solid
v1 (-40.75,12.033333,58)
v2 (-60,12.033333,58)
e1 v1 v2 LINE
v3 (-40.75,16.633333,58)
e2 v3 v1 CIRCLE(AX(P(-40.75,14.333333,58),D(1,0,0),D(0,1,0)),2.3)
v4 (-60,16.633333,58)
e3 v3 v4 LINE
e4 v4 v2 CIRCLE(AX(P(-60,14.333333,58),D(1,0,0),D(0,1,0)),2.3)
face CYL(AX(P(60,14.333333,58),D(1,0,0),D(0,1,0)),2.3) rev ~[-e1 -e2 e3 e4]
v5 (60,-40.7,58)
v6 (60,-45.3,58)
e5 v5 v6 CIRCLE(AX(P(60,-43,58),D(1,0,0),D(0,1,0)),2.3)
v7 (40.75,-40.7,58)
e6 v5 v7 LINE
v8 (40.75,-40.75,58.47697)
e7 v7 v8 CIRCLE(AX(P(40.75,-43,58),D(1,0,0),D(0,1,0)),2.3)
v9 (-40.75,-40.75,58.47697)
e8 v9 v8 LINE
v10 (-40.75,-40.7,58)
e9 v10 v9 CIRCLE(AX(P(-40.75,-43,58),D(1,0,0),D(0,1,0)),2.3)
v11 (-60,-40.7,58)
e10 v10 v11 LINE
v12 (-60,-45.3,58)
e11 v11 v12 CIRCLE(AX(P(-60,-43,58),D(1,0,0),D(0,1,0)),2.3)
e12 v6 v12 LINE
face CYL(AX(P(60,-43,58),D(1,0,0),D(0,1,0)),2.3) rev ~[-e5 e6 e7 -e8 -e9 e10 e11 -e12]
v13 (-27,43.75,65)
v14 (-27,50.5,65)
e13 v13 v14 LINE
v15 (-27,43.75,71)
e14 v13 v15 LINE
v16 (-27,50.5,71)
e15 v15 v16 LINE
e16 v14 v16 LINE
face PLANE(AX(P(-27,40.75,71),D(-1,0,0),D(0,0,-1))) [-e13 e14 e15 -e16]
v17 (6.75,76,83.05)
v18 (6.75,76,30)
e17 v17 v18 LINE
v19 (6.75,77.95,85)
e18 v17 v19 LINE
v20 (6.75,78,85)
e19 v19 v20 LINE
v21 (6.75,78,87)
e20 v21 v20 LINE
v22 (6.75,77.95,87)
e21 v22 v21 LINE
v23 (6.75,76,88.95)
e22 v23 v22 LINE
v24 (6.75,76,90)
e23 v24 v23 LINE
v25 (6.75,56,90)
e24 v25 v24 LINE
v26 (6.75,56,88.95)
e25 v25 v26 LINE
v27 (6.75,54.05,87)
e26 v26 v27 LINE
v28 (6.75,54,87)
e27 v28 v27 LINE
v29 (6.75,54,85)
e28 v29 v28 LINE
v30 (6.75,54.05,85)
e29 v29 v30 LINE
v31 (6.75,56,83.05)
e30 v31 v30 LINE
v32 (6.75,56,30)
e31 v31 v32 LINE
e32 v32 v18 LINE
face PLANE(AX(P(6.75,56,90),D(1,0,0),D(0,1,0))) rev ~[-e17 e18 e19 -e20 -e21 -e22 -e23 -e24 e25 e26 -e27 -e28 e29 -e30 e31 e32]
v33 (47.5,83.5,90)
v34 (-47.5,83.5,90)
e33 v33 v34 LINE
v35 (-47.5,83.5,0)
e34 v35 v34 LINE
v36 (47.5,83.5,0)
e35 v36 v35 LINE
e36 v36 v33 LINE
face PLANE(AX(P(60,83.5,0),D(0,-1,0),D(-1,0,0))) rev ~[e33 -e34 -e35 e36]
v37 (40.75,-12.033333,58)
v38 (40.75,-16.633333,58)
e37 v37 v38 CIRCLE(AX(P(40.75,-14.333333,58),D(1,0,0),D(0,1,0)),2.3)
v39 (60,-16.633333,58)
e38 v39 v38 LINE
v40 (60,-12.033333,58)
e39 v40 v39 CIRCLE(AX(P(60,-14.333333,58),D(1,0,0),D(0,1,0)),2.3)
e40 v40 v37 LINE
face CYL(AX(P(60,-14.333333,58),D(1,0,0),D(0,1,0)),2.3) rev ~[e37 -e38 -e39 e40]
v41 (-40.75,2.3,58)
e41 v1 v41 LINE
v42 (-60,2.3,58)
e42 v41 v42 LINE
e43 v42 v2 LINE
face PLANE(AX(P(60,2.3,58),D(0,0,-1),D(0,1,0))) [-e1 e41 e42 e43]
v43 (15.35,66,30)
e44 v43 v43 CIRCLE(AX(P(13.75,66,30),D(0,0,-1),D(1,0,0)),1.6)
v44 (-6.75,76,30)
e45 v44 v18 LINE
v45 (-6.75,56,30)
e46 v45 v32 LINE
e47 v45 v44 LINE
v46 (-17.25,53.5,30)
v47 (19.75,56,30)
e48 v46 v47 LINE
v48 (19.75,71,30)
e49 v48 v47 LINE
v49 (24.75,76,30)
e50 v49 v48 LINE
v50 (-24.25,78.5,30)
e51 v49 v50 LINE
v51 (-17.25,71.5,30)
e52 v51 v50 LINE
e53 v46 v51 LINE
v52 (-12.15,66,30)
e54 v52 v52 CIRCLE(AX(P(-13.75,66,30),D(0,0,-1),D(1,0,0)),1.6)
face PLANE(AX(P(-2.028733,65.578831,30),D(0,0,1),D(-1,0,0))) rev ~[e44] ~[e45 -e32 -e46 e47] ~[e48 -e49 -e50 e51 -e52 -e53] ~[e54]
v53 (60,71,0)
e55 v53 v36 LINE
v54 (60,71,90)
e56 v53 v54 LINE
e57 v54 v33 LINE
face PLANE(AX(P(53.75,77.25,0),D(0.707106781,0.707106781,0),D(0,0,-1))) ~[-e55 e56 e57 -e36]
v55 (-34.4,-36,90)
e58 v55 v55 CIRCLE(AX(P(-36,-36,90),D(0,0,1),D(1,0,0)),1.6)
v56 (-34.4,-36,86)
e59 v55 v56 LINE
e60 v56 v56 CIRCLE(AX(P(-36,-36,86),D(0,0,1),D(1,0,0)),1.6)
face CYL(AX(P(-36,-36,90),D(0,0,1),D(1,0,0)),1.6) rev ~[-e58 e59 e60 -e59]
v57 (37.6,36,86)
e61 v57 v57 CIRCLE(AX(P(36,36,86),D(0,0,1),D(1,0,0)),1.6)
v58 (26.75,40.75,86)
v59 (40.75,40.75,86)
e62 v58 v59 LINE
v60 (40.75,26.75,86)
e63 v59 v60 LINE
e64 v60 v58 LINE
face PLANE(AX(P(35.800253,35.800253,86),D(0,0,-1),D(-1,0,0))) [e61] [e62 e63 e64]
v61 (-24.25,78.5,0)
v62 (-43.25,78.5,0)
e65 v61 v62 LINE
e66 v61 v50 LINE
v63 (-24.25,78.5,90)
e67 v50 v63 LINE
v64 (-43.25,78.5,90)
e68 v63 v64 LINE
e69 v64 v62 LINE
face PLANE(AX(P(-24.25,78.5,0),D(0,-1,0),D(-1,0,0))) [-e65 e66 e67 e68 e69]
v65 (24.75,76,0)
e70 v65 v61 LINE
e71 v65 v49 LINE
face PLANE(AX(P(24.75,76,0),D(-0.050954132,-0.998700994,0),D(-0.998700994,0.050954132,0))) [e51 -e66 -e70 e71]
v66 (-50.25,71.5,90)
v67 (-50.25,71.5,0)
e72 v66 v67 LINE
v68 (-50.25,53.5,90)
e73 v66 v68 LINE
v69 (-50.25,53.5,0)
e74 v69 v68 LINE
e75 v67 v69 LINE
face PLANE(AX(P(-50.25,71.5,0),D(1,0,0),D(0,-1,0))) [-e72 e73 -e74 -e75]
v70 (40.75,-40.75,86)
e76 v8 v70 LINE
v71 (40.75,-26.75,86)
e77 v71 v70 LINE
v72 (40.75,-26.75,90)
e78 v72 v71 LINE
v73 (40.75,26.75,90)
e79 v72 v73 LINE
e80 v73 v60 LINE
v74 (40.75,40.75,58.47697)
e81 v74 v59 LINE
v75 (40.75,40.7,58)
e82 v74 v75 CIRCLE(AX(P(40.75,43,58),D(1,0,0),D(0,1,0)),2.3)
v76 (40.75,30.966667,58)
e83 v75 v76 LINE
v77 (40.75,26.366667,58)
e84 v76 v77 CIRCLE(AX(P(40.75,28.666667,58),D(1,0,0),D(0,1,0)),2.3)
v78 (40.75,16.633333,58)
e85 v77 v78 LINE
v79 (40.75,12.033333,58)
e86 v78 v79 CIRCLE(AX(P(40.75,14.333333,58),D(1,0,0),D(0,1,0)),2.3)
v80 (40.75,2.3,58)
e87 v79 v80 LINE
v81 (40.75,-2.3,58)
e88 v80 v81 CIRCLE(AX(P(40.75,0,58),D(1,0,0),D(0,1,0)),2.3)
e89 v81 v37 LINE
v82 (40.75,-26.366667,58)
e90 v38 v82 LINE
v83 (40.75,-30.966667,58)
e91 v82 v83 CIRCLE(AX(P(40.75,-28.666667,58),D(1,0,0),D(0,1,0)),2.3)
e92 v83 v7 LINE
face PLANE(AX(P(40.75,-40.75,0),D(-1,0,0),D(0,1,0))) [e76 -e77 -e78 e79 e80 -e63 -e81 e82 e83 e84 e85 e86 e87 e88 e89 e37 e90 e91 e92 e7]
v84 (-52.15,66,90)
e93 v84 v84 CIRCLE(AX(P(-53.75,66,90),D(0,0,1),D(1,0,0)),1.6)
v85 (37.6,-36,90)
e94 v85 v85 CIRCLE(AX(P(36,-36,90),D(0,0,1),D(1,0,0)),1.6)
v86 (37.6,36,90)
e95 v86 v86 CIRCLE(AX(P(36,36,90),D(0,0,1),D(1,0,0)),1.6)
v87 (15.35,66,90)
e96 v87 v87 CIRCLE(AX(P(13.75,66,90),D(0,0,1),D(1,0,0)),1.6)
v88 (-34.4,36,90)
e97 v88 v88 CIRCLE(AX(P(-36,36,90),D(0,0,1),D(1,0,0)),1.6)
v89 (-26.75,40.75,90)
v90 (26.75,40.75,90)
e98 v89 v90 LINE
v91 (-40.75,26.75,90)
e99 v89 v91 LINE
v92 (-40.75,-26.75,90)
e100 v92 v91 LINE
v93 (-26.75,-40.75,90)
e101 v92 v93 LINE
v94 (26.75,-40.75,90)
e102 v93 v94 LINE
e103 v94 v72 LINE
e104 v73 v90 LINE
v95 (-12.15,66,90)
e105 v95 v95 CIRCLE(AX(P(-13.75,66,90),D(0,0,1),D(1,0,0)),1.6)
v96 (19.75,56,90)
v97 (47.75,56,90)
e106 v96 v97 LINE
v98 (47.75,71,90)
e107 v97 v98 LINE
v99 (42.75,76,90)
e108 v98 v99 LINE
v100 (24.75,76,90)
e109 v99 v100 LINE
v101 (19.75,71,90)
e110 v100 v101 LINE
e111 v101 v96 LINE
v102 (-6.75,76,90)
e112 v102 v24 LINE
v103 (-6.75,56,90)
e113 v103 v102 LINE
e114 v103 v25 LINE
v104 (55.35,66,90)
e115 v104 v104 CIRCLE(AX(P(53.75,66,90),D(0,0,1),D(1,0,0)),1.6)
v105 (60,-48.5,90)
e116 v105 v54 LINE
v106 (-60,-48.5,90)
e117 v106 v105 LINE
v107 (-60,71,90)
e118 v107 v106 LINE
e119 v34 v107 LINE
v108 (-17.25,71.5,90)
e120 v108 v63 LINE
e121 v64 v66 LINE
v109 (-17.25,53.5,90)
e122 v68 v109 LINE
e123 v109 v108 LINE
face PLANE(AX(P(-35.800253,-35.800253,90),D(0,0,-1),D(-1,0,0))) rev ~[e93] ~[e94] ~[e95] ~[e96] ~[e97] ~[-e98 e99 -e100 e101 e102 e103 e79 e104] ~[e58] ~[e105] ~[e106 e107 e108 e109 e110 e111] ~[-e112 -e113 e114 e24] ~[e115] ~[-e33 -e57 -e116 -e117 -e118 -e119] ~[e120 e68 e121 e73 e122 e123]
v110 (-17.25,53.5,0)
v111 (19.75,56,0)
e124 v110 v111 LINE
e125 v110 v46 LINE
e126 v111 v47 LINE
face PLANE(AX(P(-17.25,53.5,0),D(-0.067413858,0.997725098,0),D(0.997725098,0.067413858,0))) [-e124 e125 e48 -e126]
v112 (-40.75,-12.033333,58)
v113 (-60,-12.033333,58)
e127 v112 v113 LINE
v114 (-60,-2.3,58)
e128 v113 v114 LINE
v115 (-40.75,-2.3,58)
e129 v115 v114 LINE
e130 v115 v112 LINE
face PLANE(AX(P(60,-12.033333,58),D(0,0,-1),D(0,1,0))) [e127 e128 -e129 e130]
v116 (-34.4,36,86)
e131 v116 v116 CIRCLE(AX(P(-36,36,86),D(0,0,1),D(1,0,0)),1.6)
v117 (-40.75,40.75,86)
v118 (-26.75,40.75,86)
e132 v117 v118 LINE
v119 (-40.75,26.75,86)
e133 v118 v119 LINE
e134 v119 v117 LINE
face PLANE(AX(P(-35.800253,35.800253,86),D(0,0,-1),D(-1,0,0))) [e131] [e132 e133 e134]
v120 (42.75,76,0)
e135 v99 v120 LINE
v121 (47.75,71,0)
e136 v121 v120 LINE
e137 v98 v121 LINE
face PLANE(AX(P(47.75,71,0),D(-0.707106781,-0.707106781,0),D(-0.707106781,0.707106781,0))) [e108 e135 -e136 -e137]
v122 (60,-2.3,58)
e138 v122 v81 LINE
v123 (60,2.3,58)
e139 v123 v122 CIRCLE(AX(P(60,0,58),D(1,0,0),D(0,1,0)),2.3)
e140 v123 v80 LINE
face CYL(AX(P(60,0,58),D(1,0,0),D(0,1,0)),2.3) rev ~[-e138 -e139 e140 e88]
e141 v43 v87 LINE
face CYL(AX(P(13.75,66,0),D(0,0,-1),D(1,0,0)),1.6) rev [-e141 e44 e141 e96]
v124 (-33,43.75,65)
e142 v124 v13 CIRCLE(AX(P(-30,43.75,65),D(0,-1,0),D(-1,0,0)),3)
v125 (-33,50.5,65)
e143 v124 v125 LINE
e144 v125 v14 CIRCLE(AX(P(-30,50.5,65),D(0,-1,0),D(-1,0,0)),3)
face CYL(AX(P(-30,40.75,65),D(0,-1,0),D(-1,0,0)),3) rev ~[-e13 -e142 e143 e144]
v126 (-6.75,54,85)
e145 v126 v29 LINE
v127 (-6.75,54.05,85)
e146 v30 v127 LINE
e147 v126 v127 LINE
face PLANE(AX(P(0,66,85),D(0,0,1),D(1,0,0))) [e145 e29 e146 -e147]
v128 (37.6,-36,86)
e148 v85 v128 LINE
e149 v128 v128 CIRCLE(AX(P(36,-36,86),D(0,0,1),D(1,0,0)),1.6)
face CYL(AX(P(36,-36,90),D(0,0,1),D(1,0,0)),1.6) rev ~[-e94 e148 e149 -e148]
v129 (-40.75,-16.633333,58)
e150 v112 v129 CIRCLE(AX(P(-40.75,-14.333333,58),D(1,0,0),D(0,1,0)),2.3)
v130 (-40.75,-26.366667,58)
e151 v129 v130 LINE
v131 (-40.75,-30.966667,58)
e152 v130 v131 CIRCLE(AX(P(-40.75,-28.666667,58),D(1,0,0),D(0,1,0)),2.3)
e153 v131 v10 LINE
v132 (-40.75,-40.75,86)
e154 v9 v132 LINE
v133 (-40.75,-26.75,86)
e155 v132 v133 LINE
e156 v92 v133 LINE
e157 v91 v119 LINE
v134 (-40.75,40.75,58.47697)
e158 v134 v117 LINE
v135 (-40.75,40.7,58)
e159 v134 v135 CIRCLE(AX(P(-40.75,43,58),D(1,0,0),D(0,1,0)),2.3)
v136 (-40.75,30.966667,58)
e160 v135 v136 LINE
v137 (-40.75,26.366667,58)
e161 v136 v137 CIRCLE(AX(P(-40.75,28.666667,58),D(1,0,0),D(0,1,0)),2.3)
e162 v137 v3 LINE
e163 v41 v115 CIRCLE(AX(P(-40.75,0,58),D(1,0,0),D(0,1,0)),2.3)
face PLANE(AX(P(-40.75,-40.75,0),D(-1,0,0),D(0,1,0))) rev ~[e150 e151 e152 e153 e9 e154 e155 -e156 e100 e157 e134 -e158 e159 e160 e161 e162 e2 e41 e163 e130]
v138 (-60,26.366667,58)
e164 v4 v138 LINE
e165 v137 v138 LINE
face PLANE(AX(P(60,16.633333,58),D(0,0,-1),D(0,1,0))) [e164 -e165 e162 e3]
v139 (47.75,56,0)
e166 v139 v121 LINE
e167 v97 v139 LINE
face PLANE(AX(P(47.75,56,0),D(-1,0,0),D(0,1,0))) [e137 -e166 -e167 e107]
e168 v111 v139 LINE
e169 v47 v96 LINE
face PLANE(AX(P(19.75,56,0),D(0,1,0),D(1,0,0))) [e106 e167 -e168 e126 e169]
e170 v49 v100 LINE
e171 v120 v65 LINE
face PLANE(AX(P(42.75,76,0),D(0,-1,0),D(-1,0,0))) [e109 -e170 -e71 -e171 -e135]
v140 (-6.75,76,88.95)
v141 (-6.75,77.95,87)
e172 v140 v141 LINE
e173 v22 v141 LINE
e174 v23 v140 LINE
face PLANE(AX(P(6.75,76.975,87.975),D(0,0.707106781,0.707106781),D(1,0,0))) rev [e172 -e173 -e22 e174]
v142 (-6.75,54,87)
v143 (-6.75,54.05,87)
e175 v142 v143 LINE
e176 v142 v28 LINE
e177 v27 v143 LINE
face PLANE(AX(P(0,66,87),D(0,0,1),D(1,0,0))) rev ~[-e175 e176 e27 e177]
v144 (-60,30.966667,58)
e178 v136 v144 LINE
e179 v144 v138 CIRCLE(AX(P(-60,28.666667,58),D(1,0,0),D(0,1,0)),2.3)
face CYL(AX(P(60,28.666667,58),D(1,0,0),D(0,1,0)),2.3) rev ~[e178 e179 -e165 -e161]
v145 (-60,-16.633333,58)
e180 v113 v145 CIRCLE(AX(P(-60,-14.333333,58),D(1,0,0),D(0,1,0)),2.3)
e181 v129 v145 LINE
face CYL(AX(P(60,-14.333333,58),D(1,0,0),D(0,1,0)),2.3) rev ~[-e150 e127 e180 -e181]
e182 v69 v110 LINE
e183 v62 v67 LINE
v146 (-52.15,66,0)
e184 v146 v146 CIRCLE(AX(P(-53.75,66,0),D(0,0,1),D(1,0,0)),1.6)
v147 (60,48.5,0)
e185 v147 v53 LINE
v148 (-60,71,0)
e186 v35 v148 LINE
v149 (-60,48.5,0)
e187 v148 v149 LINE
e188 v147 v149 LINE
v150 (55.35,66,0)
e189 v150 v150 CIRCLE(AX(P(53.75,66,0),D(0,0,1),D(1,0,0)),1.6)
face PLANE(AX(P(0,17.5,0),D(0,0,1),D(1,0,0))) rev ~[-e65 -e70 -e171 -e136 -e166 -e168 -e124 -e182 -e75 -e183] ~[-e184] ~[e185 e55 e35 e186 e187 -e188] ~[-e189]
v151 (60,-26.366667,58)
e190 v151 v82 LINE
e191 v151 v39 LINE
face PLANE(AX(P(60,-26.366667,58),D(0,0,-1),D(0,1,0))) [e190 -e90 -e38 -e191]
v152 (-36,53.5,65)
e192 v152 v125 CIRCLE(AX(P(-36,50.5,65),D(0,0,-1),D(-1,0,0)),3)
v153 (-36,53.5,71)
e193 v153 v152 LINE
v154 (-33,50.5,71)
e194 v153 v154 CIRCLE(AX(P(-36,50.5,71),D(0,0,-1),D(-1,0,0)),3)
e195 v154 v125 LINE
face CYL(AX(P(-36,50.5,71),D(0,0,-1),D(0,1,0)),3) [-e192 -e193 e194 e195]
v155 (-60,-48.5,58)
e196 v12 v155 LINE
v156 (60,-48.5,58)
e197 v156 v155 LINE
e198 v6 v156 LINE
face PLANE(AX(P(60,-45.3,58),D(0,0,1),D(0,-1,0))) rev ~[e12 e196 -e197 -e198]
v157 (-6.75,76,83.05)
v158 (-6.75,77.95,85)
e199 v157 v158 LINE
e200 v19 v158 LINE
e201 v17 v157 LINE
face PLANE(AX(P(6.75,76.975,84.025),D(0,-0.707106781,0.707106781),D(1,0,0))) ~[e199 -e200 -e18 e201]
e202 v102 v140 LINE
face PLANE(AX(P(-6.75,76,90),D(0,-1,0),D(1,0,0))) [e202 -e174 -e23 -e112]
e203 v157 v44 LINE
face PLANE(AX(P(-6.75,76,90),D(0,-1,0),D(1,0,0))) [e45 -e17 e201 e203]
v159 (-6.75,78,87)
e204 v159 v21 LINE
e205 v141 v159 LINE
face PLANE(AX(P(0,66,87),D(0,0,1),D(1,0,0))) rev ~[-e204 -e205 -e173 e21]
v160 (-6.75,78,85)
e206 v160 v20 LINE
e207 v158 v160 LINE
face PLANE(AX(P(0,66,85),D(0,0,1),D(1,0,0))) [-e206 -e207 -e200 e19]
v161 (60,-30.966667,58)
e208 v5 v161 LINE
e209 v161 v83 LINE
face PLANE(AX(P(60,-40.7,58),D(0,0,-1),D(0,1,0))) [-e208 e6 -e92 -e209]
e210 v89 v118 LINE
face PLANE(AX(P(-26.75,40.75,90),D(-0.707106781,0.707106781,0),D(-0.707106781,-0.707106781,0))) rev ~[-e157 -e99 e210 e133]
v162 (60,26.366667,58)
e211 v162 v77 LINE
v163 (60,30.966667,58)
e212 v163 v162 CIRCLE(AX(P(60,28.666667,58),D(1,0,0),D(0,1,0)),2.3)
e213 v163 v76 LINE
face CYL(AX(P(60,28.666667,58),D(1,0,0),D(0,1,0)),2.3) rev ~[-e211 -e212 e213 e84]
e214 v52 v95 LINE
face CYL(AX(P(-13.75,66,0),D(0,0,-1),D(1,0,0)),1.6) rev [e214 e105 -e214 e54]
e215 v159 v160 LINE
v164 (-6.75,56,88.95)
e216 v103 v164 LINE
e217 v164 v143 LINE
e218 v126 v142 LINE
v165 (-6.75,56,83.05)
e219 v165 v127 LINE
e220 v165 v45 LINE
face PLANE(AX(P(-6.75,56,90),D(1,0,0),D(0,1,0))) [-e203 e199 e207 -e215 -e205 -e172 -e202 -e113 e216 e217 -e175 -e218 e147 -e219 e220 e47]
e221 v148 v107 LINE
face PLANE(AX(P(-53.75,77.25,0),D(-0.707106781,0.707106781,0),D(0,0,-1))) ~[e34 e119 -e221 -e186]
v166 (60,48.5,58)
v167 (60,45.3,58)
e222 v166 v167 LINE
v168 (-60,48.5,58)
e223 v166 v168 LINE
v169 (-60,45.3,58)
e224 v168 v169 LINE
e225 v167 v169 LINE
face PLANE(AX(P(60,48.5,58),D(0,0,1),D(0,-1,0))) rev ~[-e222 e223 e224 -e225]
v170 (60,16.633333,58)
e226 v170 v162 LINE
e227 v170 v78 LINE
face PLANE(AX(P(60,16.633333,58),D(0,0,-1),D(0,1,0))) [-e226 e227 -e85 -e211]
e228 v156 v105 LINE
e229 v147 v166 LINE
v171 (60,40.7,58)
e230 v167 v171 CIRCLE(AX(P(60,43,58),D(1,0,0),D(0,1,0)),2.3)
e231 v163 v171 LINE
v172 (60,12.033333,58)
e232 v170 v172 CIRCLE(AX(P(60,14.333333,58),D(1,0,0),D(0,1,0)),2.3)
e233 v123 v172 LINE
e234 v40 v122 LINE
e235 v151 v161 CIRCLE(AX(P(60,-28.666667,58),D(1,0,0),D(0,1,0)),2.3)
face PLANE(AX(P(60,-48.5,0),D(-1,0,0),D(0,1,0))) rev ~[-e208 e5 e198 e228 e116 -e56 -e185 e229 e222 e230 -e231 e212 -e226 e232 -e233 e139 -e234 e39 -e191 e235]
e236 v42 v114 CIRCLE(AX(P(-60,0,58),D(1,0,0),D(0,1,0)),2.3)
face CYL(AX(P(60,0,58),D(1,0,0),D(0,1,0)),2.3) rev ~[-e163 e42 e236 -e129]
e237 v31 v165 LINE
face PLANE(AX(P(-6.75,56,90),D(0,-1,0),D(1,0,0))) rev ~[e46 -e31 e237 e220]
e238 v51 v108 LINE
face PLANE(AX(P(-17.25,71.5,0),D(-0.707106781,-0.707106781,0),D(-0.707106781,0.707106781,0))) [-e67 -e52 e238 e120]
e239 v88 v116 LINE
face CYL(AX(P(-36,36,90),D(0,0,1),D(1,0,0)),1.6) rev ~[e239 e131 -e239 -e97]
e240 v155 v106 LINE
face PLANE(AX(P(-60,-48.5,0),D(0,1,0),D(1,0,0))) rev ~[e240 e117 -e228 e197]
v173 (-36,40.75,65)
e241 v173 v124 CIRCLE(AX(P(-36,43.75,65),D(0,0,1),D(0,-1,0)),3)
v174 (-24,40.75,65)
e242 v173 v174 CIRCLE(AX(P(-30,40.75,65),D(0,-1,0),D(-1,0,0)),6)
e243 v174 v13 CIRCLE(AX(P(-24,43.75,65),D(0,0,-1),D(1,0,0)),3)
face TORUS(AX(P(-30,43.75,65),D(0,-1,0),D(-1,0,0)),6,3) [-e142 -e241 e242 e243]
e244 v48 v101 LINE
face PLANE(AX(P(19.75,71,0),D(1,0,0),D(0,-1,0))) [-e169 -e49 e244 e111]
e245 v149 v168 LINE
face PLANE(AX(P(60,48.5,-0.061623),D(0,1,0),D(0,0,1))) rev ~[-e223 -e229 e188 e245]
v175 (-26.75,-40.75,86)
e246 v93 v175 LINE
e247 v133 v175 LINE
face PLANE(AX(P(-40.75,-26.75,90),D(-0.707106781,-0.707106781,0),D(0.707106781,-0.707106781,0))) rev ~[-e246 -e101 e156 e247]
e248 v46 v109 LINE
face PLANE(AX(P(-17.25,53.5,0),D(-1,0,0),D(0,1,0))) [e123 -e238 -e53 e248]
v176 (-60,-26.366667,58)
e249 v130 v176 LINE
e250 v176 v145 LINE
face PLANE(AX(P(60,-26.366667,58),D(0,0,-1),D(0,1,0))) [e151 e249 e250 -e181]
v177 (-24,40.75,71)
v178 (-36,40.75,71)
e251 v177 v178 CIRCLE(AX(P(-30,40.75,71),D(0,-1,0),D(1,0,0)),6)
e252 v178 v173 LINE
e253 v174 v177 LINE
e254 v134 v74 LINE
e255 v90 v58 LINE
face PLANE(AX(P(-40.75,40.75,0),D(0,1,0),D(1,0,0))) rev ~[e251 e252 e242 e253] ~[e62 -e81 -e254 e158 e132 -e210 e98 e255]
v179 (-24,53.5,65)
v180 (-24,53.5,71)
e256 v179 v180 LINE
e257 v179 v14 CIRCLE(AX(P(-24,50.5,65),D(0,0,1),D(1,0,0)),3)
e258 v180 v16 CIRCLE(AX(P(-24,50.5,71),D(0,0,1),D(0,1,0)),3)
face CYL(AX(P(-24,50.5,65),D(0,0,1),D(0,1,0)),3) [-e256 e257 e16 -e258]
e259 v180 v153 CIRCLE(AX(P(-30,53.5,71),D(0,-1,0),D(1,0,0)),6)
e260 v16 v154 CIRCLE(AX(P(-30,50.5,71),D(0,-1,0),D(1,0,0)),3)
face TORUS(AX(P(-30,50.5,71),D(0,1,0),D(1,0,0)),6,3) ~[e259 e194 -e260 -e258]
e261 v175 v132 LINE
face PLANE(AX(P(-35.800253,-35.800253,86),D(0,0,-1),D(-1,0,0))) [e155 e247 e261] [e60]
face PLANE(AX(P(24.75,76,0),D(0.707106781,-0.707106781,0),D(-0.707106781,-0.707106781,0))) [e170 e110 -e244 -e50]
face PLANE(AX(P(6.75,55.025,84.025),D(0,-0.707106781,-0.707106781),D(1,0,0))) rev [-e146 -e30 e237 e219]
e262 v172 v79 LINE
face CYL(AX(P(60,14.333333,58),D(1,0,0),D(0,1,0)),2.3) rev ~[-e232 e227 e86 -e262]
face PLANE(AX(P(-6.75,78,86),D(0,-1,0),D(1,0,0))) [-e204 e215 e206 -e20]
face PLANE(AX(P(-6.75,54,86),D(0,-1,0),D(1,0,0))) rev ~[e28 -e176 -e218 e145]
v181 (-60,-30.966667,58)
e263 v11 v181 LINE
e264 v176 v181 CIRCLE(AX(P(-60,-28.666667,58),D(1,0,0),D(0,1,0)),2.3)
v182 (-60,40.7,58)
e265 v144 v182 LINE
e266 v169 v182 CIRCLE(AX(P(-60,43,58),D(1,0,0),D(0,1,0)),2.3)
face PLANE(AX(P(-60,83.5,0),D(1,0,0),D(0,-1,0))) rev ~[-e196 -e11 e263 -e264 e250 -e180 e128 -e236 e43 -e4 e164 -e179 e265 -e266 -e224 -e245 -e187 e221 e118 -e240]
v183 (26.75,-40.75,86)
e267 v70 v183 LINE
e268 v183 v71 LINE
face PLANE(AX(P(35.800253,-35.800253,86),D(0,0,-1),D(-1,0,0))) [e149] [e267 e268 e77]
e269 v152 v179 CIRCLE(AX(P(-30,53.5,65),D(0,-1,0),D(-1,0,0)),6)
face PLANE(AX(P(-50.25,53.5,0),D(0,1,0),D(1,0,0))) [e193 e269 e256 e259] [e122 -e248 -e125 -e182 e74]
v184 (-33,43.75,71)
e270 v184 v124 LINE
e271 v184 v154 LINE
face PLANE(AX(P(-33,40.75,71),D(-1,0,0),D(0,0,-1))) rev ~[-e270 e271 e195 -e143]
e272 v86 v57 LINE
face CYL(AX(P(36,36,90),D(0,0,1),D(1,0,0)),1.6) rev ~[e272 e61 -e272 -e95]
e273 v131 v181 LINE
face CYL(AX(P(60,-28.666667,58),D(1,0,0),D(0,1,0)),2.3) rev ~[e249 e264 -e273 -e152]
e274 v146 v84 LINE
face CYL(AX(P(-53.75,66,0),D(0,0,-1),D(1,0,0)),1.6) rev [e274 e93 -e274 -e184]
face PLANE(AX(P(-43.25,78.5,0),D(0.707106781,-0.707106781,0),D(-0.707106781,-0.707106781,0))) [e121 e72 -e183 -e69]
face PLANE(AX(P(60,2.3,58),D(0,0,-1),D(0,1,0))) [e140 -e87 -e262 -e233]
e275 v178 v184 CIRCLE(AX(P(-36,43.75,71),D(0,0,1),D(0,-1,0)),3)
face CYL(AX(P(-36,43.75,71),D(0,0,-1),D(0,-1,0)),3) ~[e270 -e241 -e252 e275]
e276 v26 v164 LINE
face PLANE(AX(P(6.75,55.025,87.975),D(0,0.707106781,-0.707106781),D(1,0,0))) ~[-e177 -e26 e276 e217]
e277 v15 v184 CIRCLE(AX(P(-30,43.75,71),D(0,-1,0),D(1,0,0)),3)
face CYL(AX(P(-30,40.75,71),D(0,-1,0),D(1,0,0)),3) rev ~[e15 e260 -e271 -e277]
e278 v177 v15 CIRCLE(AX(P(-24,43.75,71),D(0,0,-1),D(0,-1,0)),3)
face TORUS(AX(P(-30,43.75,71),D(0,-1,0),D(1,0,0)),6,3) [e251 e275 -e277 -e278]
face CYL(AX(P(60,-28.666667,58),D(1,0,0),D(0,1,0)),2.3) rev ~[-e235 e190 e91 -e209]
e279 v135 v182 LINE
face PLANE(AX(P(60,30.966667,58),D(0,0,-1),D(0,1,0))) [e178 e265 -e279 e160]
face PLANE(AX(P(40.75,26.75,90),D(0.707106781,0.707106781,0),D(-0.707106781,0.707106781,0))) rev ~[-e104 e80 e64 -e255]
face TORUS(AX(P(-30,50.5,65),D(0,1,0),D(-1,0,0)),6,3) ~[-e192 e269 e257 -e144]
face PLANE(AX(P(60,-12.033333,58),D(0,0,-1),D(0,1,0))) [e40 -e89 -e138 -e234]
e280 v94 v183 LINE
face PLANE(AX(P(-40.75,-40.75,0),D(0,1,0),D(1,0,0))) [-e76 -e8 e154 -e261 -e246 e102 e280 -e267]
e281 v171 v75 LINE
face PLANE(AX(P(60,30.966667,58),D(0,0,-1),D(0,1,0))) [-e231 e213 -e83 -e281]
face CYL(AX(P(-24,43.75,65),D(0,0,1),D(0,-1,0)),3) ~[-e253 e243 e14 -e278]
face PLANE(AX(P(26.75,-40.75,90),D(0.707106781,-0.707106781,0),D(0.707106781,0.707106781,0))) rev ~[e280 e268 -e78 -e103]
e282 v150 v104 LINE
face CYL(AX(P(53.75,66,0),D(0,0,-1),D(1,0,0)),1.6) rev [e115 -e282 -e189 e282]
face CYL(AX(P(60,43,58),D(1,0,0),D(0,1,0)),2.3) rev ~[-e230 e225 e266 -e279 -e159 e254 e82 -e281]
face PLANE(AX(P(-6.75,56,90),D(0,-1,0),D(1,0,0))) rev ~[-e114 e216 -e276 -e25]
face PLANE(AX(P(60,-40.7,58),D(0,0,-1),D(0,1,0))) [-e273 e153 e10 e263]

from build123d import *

# Parameters (mm, degrees)
SKETCH_R        = 1.6
SKETCH_W        = 81.5
SKETCH_H        = 81.5
PAD_DEPTH       = 90
POCKET_DEPTH    = 120.001
SKETCH002_R     = 1.6
PAD001_DEPTH    = 4
POCKET001_DEPTH = 30
CHAMFER_SIZE    = 12.5
SKETCH005_W     = 13.5
SKETCH005_H     = 20
POCKET002_DEPTH = 90.001
SKETCH006_W     = 13.5
SKETCH006_H     = 24
POCKET003_DEPTH = 1
CHAMFER001_SIZE = 1.95
POCKET004_DEPTH = 15
FILLET_R        = 3


with BuildPart() as part:
    # Sketch → Pad (new body)
    with BuildSketch(Plane.XY):
        Polygon((-60, -48.5), (60, -48.5), (60, 48.5), (60, 83.5), (-60, 83.5), (-60, 48.5), align=None)
        with Locations((-53.75, 66)):
            Circle(SKETCH_R, mode=Mode.SUBTRACT)
        with Locations((-13.75, 66)):
            Circle(SKETCH_R, mode=Mode.SUBTRACT)
        with Locations((13.75, 66)):
            Circle(SKETCH_R, mode=Mode.SUBTRACT)
        with Locations((53.75, 66)):
            Circle(SKETCH_R, mode=Mode.SUBTRACT)
        Rectangle(SKETCH_W, SKETCH_H, mode=Mode.SUBTRACT)
        Polygon((-50.25, 53.5), (-17.25, 53.5), (-17.25, 71.5), (-24.25, 78.5), (-43.25, 78.5), (-50.25, 71.5), align=None, mode=Mode.SUBTRACT)
        Polygon((19.75, 56), (47.75, 56), (47.75, 71), (42.75, 76), (24.75, 76), (19.75, 71), align=None, mode=Mode.SUBTRACT)
    extrude(amount=PAD_DEPTH)

    # Sketch001 (on Face26 of Pad) → Pocket (cut, through all)
    with BuildSketch(Plane.YZ.offset(60)):
        with BuildLine():
            ThreePointArc((-40.7, 58), (-43, 60.3), (-45.3, 58))
            Line((-45.3, 58), (-48.5, 58))
            Line((-48.5, 0), (-48.5, 58))
            Line((-48.5, 0), (48.5, -0.061623))
            Line((48.5, -0.061623), (48.5, 58))
            Line((48.5, 58), (45.3, 58))
            ThreePointArc((45.3, 58), (43, 60.3), (40.7, 58))
            Line((30.966667, 58), (40.7, 58))
            ThreePointArc((30.966667, 58), (28.666667, 60.3), (26.366667, 58))
            Line((16.633333, 58), (26.366667, 58))
            ThreePointArc((16.633333, 58), (14.333333, 60.3), (12.033333, 58))
            Line((2.3, 58), (12.033333, 58))
            ThreePointArc((2.3, 58), (0, 60.3), (-2.3, 58))
            Line((-12.033333, 58), (-2.3, 58))
            ThreePointArc((-12.033333, 58), (-14.333333, 60.3), (-16.633333, 58))
            Line((-26.366667, 58), (-16.633333, 58))
            ThreePointArc((-26.366667, 58), (-28.666667, 60.3), (-30.966667, 58))
            Line((-40.7, 58), (-30.966667, 58))
        make_face()
    extrude(amount=-POCKET_DEPTH, mode=Mode.SUBTRACT)

    # Sketch002 (on Face24 of Pad) → Pad001 (join)
    with BuildSketch(Plane.XY.offset(90)):
        Polygon((-40.75, -40.75), (-40.75, -26.75), (-26.75, -40.75), align=None)
        with Locations((-36, -36)):
            Circle(SKETCH002_R, mode=Mode.SUBTRACT)
        Polygon((40.75, -40.75), (26.75, -40.75), (40.75, -26.75), align=None)
        with Locations((36, -36)):
            Circle(SKETCH002_R, mode=Mode.SUBTRACT)
        Polygon((40.75, 40.75), (40.75, 26.75), (26.75, 40.75), align=None)
        with Locations((36, 36)):
            Circle(SKETCH002_R, mode=Mode.SUBTRACT)
        Polygon((-40.75, 40.75), (-26.75, 40.75), (-40.75, 26.75), align=None)
        with Locations((-36, 36)):
            Circle(SKETCH002_R, mode=Mode.SUBTRACT)
    extrude(amount=-PAD001_DEPTH)

    # Sketch004 (on Face7 of Pad001) → Pocket001 (cut)
    with BuildSketch(Plane(origin=(0, 0, 0), x_dir=(1, 0, 0), z_dir=(0, 0, -1))):
        Polygon((-17.25, -53.5), (19.75, -56), (47.75, -56), (47.75, -71), (42.75, -76), (24.75, -76), (-24.25, -78.5), (-43.25, -78.5), (-50.25, -71.5), (-50.25, -53.5), align=None)
    extrude(amount=-POCKET001_DEPTH, mode=Mode.SUBTRACT)

    # Chamfer
    chamfer_edges = [part.edges().sort_by_distance(p)[0] for p in [
        (60, 83.5, 45),
        (-60, 83.5, 45),
    ]]
    chamfer(chamfer_edges, length=CHAMFER_SIZE)

    # Sketch005 → Pocket002 (cut, through all)
    with BuildSketch(Plane.XY.offset(90)):
        with Locations((0, 66)):
            Rectangle(SKETCH005_W, SKETCH005_H)
    extrude(amount=-POCKET002_DEPTH, mode=Mode.SUBTRACT)

    # Sketch006 (on Face8 of Pocket002) → Pocket003 (cut, symmetric)
    with BuildSketch(Plane.XY.offset(86)):
        with Locations((0, 66)):
            Rectangle(SKETCH006_W, SKETCH006_H)
    extrude(amount=POCKET003_DEPTH, both=True, mode=Mode.SUBTRACT)

    # Chamfer001
    chamfer001_edges = [part.edges().sort_by_distance(p)[0] for p in [
        (0, 76, 87),
        (0, 76, 85),
        (0, 56, 87),
        (0, 56, 85),
    ]]
    chamfer(chamfer001_edges, length=CHAMFER001_SIZE)

    # Sketch007 (on Face33 of Chamfer001) → Pocket004 (cut)
    with BuildSketch(Plane.XZ.offset(-40.75)):
        with BuildLine():
            ThreePointArc((-27, 71), (-30, 74), (-33, 71))
            Line((-33, 71), (-33, 65))
            ThreePointArc((-33, 65), (-30, 62), (-27, 65))
            Line((-27, 71), (-27, 65))
        make_face()
    extrude(amount=-POCKET004_DEPTH, mode=Mode.SUBTRACT)

    # Fillet
    fillet_edges = [part.edges().sort_by_distance(p)[0] for p in [
        (-30, 53.5, 62),
        (-33, 40.75, 68),
    ]]
    fillet(fillet_edges, radius=FILLET_R)


solid = part.part
